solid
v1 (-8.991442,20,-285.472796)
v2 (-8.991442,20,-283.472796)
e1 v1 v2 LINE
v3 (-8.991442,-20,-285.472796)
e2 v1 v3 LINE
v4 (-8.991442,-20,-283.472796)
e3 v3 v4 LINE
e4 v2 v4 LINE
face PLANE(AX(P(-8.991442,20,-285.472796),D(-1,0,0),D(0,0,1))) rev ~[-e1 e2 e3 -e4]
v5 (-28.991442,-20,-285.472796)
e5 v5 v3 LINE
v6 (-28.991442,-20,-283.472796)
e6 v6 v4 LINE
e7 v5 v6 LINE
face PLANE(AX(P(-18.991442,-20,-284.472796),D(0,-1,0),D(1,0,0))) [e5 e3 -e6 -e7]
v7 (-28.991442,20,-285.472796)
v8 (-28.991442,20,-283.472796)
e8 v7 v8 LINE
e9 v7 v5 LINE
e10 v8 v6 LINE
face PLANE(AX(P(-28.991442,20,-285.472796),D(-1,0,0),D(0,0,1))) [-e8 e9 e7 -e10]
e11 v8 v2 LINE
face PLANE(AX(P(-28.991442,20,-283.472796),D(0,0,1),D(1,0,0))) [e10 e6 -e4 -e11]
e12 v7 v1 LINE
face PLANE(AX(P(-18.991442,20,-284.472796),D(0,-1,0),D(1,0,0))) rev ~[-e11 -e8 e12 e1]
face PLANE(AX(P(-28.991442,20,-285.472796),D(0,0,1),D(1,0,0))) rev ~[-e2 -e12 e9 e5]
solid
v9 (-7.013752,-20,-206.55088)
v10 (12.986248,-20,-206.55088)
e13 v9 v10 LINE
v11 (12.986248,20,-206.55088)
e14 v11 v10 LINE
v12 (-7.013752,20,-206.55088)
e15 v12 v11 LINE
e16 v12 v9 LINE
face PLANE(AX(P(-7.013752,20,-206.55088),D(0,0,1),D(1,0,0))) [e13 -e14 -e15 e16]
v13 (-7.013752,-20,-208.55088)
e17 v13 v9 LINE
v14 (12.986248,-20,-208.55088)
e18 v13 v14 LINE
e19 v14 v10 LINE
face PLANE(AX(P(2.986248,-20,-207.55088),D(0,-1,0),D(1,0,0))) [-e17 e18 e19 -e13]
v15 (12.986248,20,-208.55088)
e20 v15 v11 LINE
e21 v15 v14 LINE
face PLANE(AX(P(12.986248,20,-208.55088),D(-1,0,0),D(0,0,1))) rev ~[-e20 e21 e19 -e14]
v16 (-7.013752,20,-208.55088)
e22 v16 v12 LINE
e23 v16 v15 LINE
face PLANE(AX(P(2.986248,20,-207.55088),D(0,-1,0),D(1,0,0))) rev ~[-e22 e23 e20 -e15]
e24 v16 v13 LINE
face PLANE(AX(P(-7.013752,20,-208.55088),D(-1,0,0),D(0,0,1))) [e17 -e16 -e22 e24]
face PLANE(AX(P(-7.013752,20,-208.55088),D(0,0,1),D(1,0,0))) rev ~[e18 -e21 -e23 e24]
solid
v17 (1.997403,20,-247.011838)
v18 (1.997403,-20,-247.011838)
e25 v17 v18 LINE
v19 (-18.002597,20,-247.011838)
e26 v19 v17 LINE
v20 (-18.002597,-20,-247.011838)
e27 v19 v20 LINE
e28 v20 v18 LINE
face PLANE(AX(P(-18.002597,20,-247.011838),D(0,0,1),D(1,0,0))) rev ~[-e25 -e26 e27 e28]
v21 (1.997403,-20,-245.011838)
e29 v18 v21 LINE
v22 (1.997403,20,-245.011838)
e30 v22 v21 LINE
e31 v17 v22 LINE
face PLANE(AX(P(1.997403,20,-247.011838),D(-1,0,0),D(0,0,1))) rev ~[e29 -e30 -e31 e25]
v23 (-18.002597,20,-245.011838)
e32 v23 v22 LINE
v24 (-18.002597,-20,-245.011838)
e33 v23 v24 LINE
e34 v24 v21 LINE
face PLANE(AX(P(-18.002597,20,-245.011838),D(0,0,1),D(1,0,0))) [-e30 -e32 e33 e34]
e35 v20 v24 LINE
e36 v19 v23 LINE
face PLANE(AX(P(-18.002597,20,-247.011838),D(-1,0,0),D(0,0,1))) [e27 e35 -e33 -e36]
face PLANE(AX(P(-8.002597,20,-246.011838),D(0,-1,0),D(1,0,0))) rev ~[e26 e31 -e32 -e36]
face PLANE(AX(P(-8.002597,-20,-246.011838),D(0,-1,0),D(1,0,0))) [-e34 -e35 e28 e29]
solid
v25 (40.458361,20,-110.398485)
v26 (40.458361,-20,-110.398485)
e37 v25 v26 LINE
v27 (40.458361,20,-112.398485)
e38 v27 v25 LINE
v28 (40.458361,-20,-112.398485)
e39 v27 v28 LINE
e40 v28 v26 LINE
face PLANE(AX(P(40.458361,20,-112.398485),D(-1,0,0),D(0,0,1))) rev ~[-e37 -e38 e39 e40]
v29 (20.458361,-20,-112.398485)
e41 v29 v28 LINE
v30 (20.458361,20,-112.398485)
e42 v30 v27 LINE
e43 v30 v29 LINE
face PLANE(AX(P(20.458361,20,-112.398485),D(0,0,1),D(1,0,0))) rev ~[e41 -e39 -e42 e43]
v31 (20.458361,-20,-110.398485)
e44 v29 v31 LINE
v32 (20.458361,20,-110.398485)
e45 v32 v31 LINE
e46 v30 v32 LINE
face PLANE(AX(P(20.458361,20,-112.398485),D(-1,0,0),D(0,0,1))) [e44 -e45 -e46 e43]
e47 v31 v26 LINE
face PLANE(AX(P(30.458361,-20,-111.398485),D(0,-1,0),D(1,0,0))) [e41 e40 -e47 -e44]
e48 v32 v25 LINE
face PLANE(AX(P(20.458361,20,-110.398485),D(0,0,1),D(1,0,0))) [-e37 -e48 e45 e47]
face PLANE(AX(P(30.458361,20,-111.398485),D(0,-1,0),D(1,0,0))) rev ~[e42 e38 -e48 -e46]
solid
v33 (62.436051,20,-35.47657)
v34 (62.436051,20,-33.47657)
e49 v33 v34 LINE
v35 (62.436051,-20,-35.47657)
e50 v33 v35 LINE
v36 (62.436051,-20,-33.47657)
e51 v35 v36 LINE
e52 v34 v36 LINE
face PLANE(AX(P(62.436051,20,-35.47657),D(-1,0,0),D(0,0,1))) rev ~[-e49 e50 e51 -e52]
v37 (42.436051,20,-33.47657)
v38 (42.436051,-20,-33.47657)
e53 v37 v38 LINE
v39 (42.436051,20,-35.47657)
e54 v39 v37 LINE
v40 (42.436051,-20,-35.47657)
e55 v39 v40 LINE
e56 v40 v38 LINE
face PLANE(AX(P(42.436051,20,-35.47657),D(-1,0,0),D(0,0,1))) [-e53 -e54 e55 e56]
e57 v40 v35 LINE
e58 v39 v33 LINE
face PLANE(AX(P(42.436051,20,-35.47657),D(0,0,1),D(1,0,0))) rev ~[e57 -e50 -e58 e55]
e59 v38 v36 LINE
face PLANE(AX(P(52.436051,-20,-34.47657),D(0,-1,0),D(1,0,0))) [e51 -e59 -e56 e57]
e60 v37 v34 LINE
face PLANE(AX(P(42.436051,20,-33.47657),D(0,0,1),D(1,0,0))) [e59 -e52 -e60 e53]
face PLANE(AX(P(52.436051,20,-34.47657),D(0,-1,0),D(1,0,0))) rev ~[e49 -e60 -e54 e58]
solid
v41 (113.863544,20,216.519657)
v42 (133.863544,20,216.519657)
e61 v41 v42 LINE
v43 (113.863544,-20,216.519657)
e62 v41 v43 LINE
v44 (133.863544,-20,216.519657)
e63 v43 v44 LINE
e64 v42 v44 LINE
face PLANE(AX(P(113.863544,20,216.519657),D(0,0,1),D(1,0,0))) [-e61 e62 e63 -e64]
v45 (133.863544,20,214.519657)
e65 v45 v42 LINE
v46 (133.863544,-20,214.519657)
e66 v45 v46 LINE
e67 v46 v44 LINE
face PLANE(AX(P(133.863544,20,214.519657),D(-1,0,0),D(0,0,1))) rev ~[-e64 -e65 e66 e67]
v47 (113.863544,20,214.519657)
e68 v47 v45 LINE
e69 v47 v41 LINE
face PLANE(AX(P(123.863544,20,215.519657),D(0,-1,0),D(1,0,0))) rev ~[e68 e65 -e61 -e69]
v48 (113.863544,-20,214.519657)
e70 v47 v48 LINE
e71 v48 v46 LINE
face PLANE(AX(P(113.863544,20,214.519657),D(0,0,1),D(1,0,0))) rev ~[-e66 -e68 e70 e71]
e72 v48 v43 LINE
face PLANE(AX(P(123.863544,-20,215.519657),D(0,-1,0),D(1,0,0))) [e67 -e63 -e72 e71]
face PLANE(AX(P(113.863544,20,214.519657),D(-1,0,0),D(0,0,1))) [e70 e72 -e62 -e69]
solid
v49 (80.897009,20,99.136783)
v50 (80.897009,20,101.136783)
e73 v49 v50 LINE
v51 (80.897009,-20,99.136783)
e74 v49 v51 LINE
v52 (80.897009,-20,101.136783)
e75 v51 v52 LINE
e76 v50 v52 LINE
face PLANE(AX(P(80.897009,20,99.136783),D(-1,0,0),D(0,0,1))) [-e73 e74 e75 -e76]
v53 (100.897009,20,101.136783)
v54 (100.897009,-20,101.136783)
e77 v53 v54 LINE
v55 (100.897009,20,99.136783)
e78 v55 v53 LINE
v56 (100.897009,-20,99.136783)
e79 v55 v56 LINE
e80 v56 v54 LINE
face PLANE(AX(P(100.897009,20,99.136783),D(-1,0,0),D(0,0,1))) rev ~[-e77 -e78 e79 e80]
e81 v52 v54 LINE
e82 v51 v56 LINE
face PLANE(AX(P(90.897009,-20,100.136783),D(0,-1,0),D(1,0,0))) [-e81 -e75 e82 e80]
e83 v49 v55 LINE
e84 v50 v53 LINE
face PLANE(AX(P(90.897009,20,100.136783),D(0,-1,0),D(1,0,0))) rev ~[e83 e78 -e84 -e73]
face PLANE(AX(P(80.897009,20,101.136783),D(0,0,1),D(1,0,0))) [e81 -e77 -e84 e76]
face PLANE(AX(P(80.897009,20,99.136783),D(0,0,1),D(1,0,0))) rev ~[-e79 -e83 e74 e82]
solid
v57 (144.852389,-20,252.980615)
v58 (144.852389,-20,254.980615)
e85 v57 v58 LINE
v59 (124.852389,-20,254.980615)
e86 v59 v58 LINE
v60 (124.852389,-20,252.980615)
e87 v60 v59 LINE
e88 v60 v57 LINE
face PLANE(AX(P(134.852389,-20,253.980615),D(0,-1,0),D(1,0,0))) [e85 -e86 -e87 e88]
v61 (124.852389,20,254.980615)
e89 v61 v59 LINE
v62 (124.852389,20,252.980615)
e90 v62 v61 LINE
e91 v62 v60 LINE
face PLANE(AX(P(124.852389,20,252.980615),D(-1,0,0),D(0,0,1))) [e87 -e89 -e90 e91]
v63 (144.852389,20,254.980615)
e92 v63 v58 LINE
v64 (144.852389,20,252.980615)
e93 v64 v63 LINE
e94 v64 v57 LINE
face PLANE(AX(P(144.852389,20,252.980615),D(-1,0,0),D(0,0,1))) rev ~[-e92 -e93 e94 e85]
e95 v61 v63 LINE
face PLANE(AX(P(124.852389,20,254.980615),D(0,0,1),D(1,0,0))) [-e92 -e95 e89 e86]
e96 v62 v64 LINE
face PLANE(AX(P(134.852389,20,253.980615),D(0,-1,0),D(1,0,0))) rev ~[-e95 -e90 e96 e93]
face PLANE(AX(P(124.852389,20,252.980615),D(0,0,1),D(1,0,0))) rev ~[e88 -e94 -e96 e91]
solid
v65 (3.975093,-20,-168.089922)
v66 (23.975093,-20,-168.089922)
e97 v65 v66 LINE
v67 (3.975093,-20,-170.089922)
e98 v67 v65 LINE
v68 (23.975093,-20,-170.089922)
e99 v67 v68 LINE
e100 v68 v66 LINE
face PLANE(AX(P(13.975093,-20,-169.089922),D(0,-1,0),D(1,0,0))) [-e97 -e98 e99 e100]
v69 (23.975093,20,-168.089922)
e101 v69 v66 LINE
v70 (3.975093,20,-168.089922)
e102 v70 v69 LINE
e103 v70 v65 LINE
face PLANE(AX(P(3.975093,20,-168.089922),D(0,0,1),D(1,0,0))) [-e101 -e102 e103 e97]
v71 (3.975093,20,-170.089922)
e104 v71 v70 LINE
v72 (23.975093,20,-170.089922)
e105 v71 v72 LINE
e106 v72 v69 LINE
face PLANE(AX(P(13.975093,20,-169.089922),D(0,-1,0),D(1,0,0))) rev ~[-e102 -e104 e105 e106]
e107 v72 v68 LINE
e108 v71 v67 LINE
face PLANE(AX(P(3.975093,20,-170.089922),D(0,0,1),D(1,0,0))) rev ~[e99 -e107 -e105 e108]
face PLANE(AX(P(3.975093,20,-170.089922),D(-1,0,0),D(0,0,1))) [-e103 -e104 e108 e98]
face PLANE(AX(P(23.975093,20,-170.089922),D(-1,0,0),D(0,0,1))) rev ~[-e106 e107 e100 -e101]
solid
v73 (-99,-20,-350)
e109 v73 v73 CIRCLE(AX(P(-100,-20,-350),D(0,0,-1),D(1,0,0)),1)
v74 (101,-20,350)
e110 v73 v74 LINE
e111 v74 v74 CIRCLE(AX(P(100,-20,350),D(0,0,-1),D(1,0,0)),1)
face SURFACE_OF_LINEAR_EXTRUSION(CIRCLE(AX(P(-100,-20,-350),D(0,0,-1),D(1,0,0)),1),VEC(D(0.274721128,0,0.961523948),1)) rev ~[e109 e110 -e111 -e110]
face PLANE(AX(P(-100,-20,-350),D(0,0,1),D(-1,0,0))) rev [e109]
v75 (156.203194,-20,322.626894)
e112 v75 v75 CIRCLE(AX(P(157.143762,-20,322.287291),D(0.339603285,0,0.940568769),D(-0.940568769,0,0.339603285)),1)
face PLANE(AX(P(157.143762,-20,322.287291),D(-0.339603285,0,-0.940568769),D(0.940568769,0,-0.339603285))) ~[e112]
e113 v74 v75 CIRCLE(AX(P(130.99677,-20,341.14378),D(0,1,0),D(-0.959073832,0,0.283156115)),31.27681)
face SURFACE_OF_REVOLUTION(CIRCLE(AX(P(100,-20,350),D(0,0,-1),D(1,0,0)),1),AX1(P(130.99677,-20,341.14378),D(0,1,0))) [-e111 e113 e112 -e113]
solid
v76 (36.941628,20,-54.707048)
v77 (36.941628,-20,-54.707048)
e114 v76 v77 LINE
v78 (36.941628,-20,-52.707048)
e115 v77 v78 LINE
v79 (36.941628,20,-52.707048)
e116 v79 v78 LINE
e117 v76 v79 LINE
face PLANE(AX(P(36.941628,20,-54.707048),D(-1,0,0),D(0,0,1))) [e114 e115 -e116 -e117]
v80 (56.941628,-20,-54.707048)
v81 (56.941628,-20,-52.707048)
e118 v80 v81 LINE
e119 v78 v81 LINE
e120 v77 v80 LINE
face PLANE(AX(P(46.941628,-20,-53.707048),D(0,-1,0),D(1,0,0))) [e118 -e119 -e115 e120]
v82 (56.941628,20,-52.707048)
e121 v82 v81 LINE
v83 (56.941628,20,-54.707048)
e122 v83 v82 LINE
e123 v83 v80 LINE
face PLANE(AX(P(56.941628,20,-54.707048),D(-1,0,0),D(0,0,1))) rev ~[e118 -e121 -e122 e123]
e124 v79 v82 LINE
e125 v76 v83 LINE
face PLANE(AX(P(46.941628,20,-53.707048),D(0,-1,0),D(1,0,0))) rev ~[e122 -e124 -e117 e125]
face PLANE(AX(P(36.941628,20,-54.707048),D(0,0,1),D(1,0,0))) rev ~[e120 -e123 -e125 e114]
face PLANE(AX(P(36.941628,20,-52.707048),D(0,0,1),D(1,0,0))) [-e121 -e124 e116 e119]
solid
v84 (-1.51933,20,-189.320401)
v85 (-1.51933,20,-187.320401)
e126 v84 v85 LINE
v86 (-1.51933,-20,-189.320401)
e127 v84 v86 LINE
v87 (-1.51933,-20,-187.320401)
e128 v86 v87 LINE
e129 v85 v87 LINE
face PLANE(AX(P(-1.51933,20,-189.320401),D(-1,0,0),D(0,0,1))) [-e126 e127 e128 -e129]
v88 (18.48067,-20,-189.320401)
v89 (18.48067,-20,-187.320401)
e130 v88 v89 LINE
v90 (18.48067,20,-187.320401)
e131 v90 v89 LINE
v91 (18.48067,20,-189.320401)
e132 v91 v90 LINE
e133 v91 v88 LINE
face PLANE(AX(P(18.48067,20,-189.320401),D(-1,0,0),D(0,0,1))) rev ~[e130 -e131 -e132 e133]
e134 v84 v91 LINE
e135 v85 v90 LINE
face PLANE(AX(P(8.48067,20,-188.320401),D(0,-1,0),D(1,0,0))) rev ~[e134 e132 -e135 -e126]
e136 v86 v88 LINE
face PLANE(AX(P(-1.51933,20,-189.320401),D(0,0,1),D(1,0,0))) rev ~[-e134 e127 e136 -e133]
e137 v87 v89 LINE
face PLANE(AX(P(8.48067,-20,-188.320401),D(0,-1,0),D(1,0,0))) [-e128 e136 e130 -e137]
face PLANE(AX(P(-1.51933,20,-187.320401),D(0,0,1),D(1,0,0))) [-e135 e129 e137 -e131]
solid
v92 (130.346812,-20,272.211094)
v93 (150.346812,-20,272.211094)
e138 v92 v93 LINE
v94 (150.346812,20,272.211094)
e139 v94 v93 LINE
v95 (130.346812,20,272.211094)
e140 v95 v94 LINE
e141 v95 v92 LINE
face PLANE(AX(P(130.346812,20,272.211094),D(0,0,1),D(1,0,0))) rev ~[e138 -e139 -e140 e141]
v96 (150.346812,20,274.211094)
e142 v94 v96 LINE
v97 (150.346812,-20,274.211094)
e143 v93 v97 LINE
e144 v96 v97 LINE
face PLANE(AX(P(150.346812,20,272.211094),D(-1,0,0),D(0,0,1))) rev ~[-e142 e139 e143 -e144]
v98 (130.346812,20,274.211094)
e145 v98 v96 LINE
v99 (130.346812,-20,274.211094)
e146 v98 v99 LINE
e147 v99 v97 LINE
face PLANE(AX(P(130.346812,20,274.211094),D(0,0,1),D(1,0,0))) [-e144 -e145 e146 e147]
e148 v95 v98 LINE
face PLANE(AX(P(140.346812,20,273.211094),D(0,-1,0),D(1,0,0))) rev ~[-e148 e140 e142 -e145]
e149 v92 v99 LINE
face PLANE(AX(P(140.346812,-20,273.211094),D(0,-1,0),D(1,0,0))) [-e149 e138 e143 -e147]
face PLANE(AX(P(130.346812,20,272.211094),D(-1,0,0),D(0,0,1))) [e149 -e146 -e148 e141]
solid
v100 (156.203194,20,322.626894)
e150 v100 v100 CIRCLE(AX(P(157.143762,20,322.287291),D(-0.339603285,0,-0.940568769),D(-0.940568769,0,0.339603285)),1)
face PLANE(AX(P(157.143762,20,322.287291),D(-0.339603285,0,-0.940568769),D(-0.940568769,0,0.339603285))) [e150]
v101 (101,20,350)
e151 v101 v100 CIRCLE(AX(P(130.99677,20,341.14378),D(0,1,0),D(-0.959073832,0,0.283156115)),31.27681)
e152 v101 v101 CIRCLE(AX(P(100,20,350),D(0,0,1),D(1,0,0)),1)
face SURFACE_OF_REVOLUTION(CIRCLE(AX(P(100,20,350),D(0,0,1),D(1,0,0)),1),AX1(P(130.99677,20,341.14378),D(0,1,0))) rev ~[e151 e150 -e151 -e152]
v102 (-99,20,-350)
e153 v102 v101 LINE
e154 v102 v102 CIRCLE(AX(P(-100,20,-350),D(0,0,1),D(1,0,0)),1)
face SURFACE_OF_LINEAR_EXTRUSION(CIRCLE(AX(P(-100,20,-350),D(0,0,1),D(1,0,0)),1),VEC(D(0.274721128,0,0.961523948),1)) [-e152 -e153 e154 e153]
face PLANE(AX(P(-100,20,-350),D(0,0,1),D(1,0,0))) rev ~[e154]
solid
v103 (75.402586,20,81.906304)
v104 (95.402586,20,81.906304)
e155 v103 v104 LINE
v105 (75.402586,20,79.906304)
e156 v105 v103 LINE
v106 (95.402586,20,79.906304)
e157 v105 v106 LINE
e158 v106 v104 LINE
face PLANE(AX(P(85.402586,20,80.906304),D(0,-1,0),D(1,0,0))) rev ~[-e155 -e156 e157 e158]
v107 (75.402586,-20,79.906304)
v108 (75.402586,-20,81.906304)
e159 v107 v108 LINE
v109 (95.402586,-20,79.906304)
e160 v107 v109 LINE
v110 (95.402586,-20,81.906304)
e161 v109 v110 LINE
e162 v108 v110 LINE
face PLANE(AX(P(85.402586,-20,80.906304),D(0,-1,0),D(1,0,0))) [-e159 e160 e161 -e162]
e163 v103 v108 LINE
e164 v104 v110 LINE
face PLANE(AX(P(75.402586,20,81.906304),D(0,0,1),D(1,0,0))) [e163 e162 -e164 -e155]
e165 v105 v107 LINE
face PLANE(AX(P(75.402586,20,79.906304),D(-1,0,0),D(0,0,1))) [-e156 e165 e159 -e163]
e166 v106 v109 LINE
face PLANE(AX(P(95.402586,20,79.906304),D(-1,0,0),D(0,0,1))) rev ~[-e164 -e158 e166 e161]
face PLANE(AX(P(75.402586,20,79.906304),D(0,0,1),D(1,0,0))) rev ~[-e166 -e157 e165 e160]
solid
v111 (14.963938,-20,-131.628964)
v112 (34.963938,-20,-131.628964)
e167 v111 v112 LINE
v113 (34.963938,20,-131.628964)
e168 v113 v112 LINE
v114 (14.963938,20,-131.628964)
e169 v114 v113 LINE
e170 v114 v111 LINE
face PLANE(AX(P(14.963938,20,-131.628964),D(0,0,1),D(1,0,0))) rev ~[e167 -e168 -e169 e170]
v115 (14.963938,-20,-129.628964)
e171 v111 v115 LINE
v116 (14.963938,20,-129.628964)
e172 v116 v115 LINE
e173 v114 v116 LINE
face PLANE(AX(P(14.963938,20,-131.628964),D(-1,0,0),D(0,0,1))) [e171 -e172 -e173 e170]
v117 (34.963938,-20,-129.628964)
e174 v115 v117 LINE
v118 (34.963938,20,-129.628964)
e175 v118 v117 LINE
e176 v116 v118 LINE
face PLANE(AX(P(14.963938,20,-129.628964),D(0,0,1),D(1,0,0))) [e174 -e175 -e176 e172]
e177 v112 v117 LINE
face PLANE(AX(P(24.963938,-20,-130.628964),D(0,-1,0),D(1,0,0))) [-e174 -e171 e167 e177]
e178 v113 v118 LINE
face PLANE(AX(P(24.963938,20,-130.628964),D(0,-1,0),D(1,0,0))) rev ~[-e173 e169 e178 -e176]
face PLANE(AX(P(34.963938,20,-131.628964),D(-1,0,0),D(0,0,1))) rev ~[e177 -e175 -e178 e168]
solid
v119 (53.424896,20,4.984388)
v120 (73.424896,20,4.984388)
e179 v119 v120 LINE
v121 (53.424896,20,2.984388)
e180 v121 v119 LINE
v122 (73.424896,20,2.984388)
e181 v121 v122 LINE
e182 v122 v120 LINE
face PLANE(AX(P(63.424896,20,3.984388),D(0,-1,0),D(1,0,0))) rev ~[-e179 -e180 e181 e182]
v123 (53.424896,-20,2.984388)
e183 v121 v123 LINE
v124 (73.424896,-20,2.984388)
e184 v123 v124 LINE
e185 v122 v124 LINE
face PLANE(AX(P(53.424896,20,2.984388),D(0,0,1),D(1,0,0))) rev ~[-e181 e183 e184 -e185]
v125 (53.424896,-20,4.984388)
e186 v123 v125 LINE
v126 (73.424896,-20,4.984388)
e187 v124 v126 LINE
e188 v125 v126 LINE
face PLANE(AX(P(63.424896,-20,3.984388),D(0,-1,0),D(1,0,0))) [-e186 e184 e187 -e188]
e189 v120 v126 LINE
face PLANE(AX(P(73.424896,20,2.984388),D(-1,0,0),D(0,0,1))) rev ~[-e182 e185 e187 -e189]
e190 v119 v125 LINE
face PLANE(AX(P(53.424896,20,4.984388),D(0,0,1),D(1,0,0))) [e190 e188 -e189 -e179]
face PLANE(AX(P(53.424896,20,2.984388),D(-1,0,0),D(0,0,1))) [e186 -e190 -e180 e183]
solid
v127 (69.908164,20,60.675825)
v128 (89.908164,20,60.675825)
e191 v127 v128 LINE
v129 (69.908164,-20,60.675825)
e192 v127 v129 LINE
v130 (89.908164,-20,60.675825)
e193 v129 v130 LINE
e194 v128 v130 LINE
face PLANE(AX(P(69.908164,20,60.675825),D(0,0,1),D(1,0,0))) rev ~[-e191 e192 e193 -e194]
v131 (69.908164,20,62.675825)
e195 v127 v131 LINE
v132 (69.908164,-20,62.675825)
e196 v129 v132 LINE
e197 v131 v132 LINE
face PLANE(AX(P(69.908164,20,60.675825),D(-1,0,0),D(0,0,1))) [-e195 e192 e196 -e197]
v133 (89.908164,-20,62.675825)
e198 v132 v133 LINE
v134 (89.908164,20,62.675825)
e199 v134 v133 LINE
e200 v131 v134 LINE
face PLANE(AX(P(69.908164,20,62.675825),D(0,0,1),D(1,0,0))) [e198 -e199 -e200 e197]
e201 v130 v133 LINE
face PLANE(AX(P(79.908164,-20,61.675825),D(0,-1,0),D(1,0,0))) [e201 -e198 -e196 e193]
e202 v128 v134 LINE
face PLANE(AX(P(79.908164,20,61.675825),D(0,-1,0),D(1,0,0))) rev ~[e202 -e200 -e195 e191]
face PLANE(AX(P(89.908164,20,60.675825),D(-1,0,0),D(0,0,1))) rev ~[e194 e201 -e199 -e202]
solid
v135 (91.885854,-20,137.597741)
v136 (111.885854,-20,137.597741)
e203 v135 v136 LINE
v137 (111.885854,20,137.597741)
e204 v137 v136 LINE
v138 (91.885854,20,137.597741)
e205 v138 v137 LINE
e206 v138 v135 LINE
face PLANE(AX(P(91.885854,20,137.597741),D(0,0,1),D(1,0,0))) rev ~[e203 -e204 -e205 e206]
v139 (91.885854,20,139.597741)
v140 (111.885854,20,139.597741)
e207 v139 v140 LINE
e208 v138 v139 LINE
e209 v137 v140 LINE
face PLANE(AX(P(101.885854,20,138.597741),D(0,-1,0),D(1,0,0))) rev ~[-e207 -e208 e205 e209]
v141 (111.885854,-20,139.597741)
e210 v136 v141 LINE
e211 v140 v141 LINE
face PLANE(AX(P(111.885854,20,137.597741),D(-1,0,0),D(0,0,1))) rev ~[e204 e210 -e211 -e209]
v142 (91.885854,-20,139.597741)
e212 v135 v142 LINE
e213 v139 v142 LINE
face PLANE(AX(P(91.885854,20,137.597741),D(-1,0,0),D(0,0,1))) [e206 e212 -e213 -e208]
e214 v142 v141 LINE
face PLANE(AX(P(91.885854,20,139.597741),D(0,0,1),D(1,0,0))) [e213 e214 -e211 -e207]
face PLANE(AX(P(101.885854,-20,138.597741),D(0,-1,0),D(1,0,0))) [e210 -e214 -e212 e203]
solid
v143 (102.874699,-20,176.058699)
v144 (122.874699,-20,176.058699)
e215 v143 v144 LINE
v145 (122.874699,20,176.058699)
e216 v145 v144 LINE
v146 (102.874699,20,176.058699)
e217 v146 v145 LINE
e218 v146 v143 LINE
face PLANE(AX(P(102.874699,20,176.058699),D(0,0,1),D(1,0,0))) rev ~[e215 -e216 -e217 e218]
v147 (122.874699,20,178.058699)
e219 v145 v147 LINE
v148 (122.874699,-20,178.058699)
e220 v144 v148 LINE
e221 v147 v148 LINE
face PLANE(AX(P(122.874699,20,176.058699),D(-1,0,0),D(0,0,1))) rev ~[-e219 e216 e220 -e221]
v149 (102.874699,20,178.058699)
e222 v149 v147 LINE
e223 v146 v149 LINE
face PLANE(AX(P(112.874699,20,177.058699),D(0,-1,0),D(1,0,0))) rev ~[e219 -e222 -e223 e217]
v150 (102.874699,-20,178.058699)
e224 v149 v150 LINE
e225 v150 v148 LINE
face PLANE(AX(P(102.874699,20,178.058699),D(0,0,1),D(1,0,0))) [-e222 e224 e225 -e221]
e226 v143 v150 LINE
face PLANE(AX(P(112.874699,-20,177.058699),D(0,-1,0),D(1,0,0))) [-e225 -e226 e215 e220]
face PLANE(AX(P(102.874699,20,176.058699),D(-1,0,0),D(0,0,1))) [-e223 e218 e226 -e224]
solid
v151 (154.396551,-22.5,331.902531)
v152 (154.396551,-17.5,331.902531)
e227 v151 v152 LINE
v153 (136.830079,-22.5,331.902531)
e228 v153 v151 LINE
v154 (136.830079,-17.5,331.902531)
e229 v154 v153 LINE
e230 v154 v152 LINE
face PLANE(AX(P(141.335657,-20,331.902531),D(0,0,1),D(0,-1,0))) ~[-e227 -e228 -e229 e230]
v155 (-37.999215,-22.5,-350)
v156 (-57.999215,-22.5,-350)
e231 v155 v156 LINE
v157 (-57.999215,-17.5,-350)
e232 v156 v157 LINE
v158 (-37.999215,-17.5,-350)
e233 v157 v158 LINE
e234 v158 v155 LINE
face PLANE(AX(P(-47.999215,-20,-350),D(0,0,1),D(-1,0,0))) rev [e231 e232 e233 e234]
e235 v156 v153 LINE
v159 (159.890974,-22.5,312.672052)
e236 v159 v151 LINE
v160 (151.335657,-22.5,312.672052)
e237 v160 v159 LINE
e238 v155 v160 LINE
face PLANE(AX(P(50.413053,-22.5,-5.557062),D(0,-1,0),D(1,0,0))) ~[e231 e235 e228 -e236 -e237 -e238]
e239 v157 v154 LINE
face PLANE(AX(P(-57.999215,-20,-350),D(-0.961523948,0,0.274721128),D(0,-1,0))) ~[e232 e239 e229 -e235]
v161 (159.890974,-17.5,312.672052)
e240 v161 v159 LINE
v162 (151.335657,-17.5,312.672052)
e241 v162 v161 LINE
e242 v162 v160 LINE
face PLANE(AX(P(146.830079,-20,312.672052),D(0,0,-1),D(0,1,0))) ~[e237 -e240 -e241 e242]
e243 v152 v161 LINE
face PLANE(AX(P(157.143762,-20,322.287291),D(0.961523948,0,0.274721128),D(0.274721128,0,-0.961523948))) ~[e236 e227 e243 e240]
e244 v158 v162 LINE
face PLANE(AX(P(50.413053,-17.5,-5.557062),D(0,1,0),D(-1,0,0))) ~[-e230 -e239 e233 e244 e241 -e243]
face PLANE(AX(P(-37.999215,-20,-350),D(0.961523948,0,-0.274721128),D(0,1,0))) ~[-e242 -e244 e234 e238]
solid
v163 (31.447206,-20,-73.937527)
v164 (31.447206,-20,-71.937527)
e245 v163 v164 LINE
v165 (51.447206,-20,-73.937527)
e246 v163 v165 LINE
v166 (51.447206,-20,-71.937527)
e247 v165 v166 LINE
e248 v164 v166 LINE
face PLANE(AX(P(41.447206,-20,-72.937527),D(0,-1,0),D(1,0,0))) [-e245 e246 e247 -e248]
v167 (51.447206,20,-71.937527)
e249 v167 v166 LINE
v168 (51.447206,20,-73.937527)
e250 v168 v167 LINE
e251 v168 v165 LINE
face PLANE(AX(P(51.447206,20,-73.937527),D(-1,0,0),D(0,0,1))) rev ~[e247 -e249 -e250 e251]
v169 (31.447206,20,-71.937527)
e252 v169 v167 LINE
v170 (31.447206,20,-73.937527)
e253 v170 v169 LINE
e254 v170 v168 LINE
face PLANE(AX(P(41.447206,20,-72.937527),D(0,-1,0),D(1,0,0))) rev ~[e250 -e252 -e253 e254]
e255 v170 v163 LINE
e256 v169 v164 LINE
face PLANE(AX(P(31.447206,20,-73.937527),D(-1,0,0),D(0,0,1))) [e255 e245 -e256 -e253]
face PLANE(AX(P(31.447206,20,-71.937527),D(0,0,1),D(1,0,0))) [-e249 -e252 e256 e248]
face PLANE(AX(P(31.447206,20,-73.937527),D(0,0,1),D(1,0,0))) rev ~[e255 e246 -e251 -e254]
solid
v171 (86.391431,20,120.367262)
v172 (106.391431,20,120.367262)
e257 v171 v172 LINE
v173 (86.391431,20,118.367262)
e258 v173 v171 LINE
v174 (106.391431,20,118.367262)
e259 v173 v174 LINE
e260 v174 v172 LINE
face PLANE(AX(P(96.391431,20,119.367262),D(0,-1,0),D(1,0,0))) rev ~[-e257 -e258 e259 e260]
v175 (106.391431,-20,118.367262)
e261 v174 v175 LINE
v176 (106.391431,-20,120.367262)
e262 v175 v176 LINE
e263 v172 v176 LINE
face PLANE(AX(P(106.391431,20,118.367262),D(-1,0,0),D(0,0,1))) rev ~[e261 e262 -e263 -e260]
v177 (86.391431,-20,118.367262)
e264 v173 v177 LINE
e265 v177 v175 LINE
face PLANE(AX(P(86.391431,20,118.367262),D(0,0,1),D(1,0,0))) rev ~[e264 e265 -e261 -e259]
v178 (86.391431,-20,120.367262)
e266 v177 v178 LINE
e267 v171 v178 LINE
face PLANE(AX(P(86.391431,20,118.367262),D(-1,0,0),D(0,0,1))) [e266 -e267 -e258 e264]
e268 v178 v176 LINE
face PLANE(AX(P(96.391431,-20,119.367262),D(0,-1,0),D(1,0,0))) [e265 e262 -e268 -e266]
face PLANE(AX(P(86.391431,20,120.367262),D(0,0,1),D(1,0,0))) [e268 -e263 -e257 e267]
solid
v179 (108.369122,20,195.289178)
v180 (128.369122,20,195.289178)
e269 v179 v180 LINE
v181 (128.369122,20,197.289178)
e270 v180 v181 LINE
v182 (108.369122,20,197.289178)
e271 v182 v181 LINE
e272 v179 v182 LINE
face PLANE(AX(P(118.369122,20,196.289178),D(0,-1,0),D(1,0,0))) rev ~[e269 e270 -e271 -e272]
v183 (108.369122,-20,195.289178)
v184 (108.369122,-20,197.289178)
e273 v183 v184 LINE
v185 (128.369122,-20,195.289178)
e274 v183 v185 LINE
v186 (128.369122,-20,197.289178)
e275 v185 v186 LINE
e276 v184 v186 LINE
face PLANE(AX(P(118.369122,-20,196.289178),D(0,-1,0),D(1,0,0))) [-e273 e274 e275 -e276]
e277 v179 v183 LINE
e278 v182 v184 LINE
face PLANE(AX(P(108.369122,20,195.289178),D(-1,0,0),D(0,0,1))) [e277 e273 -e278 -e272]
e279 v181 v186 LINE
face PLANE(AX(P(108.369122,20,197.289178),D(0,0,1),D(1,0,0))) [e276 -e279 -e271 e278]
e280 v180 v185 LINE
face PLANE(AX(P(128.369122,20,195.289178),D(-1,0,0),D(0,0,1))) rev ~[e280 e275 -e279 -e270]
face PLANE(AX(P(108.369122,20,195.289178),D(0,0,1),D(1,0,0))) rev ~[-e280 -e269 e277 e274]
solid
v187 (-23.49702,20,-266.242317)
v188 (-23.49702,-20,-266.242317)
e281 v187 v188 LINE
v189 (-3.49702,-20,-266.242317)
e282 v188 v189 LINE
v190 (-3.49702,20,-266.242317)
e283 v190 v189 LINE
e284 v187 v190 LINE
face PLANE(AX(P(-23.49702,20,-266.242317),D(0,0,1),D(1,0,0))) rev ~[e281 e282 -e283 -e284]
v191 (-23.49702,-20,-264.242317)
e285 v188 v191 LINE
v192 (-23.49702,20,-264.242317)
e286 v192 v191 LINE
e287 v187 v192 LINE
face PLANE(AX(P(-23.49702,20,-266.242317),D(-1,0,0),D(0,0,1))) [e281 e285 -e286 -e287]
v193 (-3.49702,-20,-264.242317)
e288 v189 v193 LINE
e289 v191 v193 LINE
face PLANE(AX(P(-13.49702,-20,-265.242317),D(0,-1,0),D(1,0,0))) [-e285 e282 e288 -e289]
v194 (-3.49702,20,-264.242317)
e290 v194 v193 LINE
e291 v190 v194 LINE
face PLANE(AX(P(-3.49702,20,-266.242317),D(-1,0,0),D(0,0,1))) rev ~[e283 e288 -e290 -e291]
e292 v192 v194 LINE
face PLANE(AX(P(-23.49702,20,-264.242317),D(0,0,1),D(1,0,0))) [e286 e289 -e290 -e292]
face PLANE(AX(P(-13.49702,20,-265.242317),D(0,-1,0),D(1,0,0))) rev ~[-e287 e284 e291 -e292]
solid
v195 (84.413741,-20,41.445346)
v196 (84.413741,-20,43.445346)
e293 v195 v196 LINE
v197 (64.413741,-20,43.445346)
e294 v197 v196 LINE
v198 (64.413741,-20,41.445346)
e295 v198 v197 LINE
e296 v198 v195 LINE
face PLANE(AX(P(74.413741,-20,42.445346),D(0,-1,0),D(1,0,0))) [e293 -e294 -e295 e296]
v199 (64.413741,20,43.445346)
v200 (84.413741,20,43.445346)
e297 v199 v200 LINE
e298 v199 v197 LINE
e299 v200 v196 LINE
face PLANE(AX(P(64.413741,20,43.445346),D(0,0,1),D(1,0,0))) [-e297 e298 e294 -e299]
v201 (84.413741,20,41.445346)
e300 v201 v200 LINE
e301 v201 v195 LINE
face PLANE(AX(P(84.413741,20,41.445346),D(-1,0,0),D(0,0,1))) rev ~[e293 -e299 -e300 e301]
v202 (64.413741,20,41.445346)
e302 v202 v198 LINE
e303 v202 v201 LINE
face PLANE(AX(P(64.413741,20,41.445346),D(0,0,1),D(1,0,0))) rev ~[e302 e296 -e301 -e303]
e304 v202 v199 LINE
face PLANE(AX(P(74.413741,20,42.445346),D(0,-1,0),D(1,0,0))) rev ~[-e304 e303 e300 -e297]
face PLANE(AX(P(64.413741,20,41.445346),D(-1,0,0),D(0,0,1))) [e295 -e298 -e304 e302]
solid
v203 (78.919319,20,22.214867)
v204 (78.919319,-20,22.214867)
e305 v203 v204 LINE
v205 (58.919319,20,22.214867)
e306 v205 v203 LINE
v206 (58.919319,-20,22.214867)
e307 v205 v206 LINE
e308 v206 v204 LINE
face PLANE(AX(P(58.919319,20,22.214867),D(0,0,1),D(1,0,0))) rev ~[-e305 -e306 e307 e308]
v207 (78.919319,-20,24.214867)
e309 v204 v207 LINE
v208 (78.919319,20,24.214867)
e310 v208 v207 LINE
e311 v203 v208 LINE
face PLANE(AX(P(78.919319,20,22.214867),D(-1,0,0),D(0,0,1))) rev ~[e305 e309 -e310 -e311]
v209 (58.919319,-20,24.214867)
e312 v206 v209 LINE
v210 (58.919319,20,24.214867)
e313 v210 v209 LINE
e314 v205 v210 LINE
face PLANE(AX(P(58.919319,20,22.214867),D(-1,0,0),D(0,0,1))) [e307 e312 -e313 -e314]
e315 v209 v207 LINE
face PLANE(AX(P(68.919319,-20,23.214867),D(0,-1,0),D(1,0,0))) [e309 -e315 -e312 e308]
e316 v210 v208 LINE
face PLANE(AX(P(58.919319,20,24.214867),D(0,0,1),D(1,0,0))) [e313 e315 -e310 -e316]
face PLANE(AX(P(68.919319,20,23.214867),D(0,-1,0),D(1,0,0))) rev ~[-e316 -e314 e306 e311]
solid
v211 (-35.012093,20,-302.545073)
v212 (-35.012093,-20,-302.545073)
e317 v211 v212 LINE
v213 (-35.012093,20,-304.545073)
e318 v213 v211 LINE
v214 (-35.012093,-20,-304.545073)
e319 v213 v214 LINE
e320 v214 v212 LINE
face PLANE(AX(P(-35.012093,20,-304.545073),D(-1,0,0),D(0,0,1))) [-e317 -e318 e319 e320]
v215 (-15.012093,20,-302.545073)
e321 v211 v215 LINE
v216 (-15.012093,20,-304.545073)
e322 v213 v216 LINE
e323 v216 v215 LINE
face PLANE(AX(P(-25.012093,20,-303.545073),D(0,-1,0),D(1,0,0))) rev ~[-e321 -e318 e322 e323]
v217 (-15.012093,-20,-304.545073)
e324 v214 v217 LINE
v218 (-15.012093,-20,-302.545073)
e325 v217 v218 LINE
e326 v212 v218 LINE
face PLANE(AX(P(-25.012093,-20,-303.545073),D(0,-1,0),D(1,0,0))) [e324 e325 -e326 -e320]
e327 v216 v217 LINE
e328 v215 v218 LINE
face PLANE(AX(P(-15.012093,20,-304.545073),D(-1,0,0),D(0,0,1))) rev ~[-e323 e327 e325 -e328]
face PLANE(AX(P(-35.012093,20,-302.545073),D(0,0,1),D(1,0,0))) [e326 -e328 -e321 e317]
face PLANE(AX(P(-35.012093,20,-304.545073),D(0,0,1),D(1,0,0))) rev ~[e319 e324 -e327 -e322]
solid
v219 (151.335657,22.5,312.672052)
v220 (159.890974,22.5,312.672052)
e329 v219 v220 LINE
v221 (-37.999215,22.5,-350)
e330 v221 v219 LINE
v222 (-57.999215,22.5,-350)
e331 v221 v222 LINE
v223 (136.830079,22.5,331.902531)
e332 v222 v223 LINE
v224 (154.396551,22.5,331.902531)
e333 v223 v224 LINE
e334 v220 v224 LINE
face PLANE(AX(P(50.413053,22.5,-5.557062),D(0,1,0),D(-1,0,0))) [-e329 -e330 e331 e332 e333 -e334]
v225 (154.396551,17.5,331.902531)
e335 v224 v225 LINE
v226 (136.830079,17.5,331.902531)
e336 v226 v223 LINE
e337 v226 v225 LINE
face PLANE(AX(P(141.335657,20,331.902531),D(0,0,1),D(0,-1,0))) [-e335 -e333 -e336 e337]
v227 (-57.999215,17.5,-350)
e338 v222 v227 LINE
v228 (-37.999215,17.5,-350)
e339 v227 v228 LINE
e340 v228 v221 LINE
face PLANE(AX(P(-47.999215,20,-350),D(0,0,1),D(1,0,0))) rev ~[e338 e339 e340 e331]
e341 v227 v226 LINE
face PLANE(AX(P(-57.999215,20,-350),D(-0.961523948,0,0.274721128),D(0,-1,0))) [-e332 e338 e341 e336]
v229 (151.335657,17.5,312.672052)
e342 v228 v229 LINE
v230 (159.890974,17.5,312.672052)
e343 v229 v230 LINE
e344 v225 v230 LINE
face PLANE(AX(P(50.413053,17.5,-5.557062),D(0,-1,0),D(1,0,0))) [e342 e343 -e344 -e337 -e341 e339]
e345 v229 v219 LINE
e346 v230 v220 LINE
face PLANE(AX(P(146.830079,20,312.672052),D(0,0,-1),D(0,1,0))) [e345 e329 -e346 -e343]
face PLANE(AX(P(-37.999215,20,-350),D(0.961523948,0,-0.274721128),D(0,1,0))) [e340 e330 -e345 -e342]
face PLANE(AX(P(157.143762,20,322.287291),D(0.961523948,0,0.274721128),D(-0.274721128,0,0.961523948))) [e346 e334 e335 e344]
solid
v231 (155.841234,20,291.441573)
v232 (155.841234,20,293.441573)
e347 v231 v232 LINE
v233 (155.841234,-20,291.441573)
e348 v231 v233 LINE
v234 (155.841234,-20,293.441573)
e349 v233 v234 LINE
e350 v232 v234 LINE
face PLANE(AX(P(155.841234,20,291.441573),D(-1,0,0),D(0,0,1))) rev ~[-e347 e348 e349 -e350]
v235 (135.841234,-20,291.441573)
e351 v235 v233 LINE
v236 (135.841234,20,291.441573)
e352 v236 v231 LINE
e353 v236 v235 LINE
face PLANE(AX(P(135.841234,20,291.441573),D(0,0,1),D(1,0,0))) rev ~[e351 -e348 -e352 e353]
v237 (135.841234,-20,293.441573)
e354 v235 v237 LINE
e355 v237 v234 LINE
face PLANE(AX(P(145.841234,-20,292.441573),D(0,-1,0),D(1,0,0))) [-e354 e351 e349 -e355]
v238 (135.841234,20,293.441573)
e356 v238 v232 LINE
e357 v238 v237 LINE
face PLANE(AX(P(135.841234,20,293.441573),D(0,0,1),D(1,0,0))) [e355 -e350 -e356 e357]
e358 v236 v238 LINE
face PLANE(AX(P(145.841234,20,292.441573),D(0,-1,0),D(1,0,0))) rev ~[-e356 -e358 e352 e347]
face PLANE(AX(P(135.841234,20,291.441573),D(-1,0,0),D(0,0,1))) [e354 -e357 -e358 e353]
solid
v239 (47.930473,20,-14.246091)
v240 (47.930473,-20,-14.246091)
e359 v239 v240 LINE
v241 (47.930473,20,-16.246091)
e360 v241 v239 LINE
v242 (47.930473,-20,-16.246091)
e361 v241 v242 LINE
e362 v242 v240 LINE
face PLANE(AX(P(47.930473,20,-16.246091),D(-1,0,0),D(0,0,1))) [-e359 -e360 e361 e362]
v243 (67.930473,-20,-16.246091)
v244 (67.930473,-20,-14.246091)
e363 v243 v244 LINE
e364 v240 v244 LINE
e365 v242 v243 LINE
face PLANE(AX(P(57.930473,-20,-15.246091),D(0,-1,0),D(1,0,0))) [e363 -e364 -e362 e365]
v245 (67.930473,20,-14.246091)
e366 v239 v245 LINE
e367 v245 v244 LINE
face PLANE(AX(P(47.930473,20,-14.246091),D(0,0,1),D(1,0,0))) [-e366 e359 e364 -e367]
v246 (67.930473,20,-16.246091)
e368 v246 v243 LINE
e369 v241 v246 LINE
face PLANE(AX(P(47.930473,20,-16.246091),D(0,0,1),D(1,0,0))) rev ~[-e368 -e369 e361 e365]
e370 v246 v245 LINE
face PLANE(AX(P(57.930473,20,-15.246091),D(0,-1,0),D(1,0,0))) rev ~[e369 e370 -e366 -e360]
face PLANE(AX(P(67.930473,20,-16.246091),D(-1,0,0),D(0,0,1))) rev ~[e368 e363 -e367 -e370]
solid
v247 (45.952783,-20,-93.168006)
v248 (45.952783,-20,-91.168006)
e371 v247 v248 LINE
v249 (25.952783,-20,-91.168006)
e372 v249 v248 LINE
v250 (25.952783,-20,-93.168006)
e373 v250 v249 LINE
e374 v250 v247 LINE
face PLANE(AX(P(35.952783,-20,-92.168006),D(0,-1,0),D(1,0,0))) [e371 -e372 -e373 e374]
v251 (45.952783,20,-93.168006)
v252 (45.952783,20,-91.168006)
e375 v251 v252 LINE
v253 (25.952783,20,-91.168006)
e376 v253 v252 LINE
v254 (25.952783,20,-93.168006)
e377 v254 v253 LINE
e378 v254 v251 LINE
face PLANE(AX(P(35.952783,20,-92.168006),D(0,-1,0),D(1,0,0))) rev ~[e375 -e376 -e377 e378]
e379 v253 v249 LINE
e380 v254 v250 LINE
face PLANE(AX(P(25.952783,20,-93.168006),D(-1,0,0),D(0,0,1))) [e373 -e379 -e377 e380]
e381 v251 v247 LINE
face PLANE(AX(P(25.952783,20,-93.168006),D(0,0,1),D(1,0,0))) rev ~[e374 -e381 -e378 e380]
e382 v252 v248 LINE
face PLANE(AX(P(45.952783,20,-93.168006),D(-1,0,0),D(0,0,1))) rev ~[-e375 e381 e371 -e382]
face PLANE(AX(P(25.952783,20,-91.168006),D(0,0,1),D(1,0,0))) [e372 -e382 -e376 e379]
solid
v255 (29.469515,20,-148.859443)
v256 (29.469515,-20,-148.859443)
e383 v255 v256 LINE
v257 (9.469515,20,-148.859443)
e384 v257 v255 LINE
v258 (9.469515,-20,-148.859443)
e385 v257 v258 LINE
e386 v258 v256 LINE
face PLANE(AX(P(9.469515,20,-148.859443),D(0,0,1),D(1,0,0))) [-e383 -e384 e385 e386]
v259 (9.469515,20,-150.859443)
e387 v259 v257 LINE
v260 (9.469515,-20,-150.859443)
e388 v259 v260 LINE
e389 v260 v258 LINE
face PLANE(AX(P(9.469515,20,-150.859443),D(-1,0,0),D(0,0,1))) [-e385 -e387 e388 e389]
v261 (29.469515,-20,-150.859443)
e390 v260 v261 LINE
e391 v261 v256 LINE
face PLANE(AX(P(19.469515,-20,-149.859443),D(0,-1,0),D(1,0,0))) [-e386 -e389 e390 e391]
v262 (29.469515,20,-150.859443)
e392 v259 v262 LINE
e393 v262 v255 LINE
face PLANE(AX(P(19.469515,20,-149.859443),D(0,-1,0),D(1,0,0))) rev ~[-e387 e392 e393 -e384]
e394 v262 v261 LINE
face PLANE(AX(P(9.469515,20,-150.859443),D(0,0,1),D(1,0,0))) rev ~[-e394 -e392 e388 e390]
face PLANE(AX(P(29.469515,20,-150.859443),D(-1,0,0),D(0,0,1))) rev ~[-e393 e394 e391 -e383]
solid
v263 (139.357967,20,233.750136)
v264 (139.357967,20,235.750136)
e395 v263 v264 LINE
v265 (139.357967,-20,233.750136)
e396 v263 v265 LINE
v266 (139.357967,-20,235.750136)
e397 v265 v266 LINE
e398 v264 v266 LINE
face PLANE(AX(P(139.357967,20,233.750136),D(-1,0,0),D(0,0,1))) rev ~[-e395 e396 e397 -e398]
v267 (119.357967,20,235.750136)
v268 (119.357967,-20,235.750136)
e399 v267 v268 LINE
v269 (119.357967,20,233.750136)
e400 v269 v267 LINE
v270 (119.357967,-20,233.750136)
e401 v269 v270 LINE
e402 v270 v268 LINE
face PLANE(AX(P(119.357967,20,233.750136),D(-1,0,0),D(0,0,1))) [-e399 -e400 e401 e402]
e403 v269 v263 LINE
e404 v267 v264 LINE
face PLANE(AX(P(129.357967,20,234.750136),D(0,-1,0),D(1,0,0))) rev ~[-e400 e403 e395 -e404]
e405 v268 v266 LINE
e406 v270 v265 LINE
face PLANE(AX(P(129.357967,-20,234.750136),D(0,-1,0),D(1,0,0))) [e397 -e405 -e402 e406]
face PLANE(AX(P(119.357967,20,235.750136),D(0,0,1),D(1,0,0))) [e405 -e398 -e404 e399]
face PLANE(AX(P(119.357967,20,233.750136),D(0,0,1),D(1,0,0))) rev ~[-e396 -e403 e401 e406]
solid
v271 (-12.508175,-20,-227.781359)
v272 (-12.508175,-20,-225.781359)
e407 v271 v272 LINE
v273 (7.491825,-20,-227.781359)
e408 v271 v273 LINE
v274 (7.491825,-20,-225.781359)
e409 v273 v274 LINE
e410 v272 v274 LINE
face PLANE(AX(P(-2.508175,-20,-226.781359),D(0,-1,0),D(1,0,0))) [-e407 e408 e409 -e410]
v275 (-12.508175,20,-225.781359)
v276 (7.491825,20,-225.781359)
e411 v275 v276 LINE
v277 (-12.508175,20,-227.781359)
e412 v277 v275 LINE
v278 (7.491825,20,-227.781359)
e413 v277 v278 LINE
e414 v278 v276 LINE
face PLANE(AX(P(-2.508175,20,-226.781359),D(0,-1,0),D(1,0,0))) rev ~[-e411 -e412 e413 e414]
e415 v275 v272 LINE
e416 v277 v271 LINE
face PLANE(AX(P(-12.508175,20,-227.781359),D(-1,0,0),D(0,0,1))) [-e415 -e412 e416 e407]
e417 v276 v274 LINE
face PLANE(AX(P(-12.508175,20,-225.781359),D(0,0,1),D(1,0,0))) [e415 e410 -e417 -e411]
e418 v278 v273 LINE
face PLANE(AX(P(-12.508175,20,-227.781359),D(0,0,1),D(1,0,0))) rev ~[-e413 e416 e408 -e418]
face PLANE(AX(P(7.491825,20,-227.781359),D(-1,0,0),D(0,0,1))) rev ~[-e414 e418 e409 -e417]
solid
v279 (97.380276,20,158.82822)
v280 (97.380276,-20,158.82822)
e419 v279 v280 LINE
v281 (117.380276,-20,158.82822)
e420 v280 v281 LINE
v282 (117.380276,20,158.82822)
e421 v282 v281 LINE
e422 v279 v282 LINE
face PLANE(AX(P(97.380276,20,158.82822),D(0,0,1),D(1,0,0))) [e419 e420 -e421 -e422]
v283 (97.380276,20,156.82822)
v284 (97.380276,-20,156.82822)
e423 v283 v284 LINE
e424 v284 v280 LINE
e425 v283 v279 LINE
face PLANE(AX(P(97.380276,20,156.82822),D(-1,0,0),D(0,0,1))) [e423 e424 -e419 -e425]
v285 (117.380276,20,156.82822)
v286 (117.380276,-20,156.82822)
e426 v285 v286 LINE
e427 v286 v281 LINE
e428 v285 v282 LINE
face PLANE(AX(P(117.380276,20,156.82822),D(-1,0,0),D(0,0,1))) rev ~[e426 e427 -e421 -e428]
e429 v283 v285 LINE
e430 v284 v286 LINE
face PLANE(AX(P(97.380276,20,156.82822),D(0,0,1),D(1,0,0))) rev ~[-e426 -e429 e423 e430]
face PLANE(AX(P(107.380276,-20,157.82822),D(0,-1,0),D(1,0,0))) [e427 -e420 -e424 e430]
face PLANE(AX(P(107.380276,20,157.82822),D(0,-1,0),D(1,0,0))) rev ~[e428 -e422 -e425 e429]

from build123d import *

# Parameters (mm, degrees)
F4_R      = 1
F7_W      = 20
F7_H      = 5
F10_W     = 20
F10_H     = 2
F11_DEPTH = 40


with BuildPart() as f5:
    # F5: sweep along a path in F2
    with BuildLine(Plane.XZ.offset(-20)) as f5_path:
        Line((-100, -350), (100, 350))
        ThreePointArc((100, 350), (145.0637044824, 370.1498783397), (157.1437624664, 322.2872910936))
    # F4 (on plane+point) → F5 (sweep)
    with BuildSketch(Plane.XY.offset(-350)):
        with Locations((-100, 20)):
            Circle(F4_R)
    sweep(path=f5_path.line)


with BuildPart() as f8:
    # F8: sweep along a path in F6
    with BuildLine(Plane.XZ.offset(-20)) as f8_path:
        Line((-47.9992150196, -350), (144.08286815, 322.2872910936))
        Line((144.08286815, 322.2872910936), (157.1437624664, 322.2872910936))
    # F7 (on plane+point) → F8 (sweep)
    with BuildSketch(Plane.XY.offset(-350)):
        with Locations((-47.9992150196, 20)):
            Rectangle(F7_W, F7_H)
    sweep(path=f8_path.line, transition=Transition.RIGHT)


with BuildPart() as f9_1:
    # F9: instance of F5
    add(f5.part.mirror(Plane.XZ))


with BuildPart() as f9_2:
    # F9: instance of F8
    add(f8.part.mirror(Plane.XZ))


with BuildPart() as f11:
    # F10 (on offset) → F11 (new body)
    with BuildSketch(Plane.XZ.offset(-20)):
        with Locations((145.8412343131, 292.4415726644)):
            Rectangle(F10_W, F10_H)
    extrude(amount=F11_DEPTH)


with BuildPart() as f11b:
    # F10 (on offset) → F11, piece 2 (new body)
    with BuildSketch(Plane.XZ.offset(-20)):
        with Locations((140.3468117551, 273.2110937116)):
            Rectangle(F10_W, F10_H)
    extrude(amount=F11_DEPTH)


with BuildPart() as f11c:
    # F10 (on offset) → F11, piece 3 (new body)
    with BuildSketch(Plane.XZ.offset(-20)):
        with Locations((134.8523891972, 253.9806147588)):
            Rectangle(F10_W, F10_H)
    extrude(amount=F11_DEPTH)


with BuildPart() as f11d:
    # F10 (on offset) → F11, piece 4 (new body)
    with BuildSketch(Plane.XZ.offset(-20)):
        with Locations((129.3579666392, 234.750135806)):
            Rectangle(F10_W, F10_H)
    extrude(amount=F11_DEPTH)


with BuildPart() as f11e:
    # F10 (on offset) → F11, piece 5 (new body)
    with BuildSketch(Plane.XZ.offset(-20)):
        with Locations((123.8635440813, 215.5196568531)):
            Rectangle(F10_W, F10_H)
    extrude(amount=F11_DEPTH)


with BuildPart() as f11f:
    # F10 (on offset) → F11, piece 6 (new body)
    with BuildSketch(Plane.XZ.offset(-20)):
        with Locations((118.3691215233, 196.2891779003)):
            Rectangle(F10_W, F10_H)
    extrude(amount=F11_DEPTH)


with BuildPart() as f11g:
    # F10 (on offset) → F11, piece 7 (new body)
    with BuildSketch(Plane.XZ.offset(-20)):
        with Locations((112.8746989654, 177.0586989475)):
            Rectangle(F10_W, F10_H)
    extrude(amount=F11_DEPTH)


with BuildPart() as f11h:
    # F10 (on offset) → F11, piece 8 (new body)
    with BuildSketch(Plane.XZ.offset(-20)):
        with Locations((107.3802764075, 157.8282199947)):
            Rectangle(F10_W, F10_H)
    extrude(amount=F11_DEPTH)


with BuildPart() as f11i:
    # F10 (on offset) → F11, piece 9 (new body)
    with BuildSketch(Plane.XZ.offset(-20)):
        with Locations((101.8858538495, 138.5977410419)):
            Rectangle(F10_W, F10_H)
    extrude(amount=F11_DEPTH)


with BuildPart() as f11j:
    # F10 (on offset) → F11, piece 10 (new body)
    with BuildSketch(Plane.XZ.offset(-20)):
        with Locations((96.3914312916, 119.3672620891)):
            Rectangle(F10_W, F10_H)
    extrude(amount=F11_DEPTH)


with BuildPart() as f11k:
    # F10 (on offset) → F11, piece 11 (new body)
    with BuildSketch(Plane.XZ.offset(-20)):
        with Locations((90.8970087336, 100.1367831362)):
            Rectangle(F10_W, F10_H)
    extrude(amount=F11_DEPTH)


with BuildPart() as f11l:
    # F10 (on offset) → F11, piece 12 (new body)
    with BuildSketch(Plane.XZ.offset(-20)):
        with Locations((85.4025861757, 80.9063041834)):
            Rectangle(F10_W, F10_H)
    extrude(amount=F11_DEPTH)


with BuildPart() as f11m:
    # F10 (on offset) → F11, piece 13 (new body)
    with BuildSketch(Plane.XZ.offset(-20)):
        with Locations((79.9081636177, 61.6758252306)):
            Rectangle(F10_W, F10_H)
    extrude(amount=F11_DEPTH)


with BuildPart() as f11n:
    # F10 (on offset) → F11, piece 14 (new body)
    with BuildSketch(Plane.XZ.offset(-20)):
        with Locations((74.4137410598, 42.4453462778)):
            Rectangle(F10_W, F10_H)
    extrude(amount=F11_DEPTH)


with BuildPart() as f11o:
    # F10 (on offset) → F11, piece 15 (new body)
    with BuildSketch(Plane.XZ.offset(-20)):
        with Locations((68.9193185018, 23.214867325)):
            Rectangle(F10_W, F10_H)
    extrude(amount=F11_DEPTH)


with BuildPart() as f11p:
    # F10 (on offset) → F11, piece 16 (new body)
    with BuildSketch(Plane.XZ.offset(-20)):
        with Locations((63.4248959439, 3.9843883722)):
            Rectangle(F10_W, F10_H)
    extrude(amount=F11_DEPTH)


with BuildPart() as f11q:
    # F10 (on offset) → F11, piece 17 (new body)
    with BuildSketch(Plane.XZ.offset(-20)):
        with Locations((57.9304733859, -15.2460905807)):
            Rectangle(F10_W, F10_H)
    extrude(amount=F11_DEPTH)


with BuildPart() as f11r:
    # F10 (on offset) → F11, piece 18 (new body)
    with BuildSketch(Plane.XZ.offset(-20)):
        with Locations((52.436050828, -34.4765695335)):
            Rectangle(F10_W, F10_H)
    extrude(amount=F11_DEPTH)


with BuildPart() as f11s:
    # F10 (on offset) → F11, piece 19 (new body)
    with BuildSketch(Plane.XZ.offset(-20)):
        with Locations((46.94162827, -53.7070484863)):
            Rectangle(F10_W, F10_H)
    extrude(amount=F11_DEPTH)


with BuildPart() as f11t:
    # F10 (on offset) → F11, piece 20 (new body)
    with BuildSketch(Plane.XZ.offset(-20)):
        with Locations((41.4472057121, -72.9375274391)):
            Rectangle(F10_W, F10_H)
    extrude(amount=F11_DEPTH)


with BuildPart() as f11u:
    # F10 (on offset) → F11, piece 21 (new body)
    with BuildSketch(Plane.XZ.offset(-20)):
        with Locations((35.9527831541, -92.1680063919)):
            Rectangle(F10_W, F10_H)
    extrude(amount=F11_DEPTH)


with BuildPart() as f11v:
    # F10 (on offset) → F11, piece 22 (new body)
    with BuildSketch(Plane.XZ.offset(-20)):
        with Locations((30.4583605962, -111.3984853447)):
            Rectangle(F10_W, F10_H)
    extrude(amount=F11_DEPTH)


with BuildPart() as f11w:
    # F10 (on offset) → F11, piece 23 (new body)
    with BuildSketch(Plane.XZ.offset(-20)):
        with Locations((24.9639380382, -130.6289642976)):
            Rectangle(F10_W, F10_H)
    extrude(amount=F11_DEPTH)


with BuildPart() as f11x:
    # F10 (on offset) → F11, piece 24 (new body)
    with BuildSketch(Plane.XZ.offset(-20)):
        with Locations((19.4695154803, -149.8594432504)):
            Rectangle(F10_W, F10_H)
    extrude(amount=F11_DEPTH)


with BuildPart() as f11y:
    # F10 (on offset) → F11, piece 25 (new body)
    with BuildSketch(Plane.XZ.offset(-20)):
        with Locations((13.9750929223, -169.0899222032)):
            Rectangle(F10_W, F10_H)
    extrude(amount=F11_DEPTH)


with BuildPart() as f11z:
    # F10 (on offset) → F11, piece 26 (new body)
    with BuildSketch(Plane.XZ.offset(-20)):
        with Locations((8.4806703644, -188.320401156)):
            Rectangle(F10_W, F10_H)
    extrude(amount=F11_DEPTH)


with BuildPart() as f11ba:
    # F10 (on offset) → F11, piece 27 (new body)
    with BuildSketch(Plane.XZ.offset(-20)):
        with Locations((2.9862478065, -207.5508801088)):
            Rectangle(F10_W, F10_H)
    extrude(amount=F11_DEPTH)


with BuildPart() as f11bb:
    # F10 (on offset) → F11, piece 28 (new body)
    with BuildSketch(Plane.XZ.offset(-20)):
        with Locations((-2.5081747515, -226.7813590616)):
            Rectangle(F10_W, F10_H)
    extrude(amount=F11_DEPTH)


with BuildPart() as f11bc:
    # F10 (on offset) → F11, piece 29 (new body)
    with BuildSketch(Plane.XZ.offset(-20)):
        with Locations((-8.0025973094, -246.0118380145)):
            Rectangle(F10_W, F10_H)
    extrude(amount=F11_DEPTH)


with BuildPart() as f11bd:
    # F10 (on offset) → F11, piece 30 (new body)
    with BuildSketch(Plane.XZ.offset(-20)):
        with Locations((-13.4970198674, -265.2423169673)):
            Rectangle(F10_W, F10_H)
    extrude(amount=F11_DEPTH)


with BuildPart() as f11be:
    # F10 (on offset) → F11, piece 31 (new body)
    with BuildSketch(Plane.XZ.offset(-20)):
        with Locations((-18.9914424253, -284.4727959201)):
            Rectangle(F10_W, F10_H)
    extrude(amount=F11_DEPTH)


with BuildPart() as f11bf:
    # F10 (on offset) → F11, piece 32 (new body)
    with BuildSketch(Plane.XZ.offset(-20)):
        with Locations((-25.0120931117, -303.5450733224)):
            Rectangle(F10_W, F10_H)
    extrude(amount=F11_DEPTH)


solid = Compound([f5.part, f8.part, f9_1.part, f9_2.part, f11.part, f11b.part, f11c.part, f11d.part, f11e.part, f11f.part, f11g.part, f11h.part, f11i.part, f11j.part, f11k.part, f11l.part, f11m.part, f11n.part, f11o.part, f11p.part, f11q.part, f11r.part, f11s.part, f11t.part, f11u.part, f11v.part, f11w.part, f11x.part, f11y.part, f11z.part, f11ba.part, f11bb.part, f11bc.part, f11bd.part, f11be.part, f11bf.part])
